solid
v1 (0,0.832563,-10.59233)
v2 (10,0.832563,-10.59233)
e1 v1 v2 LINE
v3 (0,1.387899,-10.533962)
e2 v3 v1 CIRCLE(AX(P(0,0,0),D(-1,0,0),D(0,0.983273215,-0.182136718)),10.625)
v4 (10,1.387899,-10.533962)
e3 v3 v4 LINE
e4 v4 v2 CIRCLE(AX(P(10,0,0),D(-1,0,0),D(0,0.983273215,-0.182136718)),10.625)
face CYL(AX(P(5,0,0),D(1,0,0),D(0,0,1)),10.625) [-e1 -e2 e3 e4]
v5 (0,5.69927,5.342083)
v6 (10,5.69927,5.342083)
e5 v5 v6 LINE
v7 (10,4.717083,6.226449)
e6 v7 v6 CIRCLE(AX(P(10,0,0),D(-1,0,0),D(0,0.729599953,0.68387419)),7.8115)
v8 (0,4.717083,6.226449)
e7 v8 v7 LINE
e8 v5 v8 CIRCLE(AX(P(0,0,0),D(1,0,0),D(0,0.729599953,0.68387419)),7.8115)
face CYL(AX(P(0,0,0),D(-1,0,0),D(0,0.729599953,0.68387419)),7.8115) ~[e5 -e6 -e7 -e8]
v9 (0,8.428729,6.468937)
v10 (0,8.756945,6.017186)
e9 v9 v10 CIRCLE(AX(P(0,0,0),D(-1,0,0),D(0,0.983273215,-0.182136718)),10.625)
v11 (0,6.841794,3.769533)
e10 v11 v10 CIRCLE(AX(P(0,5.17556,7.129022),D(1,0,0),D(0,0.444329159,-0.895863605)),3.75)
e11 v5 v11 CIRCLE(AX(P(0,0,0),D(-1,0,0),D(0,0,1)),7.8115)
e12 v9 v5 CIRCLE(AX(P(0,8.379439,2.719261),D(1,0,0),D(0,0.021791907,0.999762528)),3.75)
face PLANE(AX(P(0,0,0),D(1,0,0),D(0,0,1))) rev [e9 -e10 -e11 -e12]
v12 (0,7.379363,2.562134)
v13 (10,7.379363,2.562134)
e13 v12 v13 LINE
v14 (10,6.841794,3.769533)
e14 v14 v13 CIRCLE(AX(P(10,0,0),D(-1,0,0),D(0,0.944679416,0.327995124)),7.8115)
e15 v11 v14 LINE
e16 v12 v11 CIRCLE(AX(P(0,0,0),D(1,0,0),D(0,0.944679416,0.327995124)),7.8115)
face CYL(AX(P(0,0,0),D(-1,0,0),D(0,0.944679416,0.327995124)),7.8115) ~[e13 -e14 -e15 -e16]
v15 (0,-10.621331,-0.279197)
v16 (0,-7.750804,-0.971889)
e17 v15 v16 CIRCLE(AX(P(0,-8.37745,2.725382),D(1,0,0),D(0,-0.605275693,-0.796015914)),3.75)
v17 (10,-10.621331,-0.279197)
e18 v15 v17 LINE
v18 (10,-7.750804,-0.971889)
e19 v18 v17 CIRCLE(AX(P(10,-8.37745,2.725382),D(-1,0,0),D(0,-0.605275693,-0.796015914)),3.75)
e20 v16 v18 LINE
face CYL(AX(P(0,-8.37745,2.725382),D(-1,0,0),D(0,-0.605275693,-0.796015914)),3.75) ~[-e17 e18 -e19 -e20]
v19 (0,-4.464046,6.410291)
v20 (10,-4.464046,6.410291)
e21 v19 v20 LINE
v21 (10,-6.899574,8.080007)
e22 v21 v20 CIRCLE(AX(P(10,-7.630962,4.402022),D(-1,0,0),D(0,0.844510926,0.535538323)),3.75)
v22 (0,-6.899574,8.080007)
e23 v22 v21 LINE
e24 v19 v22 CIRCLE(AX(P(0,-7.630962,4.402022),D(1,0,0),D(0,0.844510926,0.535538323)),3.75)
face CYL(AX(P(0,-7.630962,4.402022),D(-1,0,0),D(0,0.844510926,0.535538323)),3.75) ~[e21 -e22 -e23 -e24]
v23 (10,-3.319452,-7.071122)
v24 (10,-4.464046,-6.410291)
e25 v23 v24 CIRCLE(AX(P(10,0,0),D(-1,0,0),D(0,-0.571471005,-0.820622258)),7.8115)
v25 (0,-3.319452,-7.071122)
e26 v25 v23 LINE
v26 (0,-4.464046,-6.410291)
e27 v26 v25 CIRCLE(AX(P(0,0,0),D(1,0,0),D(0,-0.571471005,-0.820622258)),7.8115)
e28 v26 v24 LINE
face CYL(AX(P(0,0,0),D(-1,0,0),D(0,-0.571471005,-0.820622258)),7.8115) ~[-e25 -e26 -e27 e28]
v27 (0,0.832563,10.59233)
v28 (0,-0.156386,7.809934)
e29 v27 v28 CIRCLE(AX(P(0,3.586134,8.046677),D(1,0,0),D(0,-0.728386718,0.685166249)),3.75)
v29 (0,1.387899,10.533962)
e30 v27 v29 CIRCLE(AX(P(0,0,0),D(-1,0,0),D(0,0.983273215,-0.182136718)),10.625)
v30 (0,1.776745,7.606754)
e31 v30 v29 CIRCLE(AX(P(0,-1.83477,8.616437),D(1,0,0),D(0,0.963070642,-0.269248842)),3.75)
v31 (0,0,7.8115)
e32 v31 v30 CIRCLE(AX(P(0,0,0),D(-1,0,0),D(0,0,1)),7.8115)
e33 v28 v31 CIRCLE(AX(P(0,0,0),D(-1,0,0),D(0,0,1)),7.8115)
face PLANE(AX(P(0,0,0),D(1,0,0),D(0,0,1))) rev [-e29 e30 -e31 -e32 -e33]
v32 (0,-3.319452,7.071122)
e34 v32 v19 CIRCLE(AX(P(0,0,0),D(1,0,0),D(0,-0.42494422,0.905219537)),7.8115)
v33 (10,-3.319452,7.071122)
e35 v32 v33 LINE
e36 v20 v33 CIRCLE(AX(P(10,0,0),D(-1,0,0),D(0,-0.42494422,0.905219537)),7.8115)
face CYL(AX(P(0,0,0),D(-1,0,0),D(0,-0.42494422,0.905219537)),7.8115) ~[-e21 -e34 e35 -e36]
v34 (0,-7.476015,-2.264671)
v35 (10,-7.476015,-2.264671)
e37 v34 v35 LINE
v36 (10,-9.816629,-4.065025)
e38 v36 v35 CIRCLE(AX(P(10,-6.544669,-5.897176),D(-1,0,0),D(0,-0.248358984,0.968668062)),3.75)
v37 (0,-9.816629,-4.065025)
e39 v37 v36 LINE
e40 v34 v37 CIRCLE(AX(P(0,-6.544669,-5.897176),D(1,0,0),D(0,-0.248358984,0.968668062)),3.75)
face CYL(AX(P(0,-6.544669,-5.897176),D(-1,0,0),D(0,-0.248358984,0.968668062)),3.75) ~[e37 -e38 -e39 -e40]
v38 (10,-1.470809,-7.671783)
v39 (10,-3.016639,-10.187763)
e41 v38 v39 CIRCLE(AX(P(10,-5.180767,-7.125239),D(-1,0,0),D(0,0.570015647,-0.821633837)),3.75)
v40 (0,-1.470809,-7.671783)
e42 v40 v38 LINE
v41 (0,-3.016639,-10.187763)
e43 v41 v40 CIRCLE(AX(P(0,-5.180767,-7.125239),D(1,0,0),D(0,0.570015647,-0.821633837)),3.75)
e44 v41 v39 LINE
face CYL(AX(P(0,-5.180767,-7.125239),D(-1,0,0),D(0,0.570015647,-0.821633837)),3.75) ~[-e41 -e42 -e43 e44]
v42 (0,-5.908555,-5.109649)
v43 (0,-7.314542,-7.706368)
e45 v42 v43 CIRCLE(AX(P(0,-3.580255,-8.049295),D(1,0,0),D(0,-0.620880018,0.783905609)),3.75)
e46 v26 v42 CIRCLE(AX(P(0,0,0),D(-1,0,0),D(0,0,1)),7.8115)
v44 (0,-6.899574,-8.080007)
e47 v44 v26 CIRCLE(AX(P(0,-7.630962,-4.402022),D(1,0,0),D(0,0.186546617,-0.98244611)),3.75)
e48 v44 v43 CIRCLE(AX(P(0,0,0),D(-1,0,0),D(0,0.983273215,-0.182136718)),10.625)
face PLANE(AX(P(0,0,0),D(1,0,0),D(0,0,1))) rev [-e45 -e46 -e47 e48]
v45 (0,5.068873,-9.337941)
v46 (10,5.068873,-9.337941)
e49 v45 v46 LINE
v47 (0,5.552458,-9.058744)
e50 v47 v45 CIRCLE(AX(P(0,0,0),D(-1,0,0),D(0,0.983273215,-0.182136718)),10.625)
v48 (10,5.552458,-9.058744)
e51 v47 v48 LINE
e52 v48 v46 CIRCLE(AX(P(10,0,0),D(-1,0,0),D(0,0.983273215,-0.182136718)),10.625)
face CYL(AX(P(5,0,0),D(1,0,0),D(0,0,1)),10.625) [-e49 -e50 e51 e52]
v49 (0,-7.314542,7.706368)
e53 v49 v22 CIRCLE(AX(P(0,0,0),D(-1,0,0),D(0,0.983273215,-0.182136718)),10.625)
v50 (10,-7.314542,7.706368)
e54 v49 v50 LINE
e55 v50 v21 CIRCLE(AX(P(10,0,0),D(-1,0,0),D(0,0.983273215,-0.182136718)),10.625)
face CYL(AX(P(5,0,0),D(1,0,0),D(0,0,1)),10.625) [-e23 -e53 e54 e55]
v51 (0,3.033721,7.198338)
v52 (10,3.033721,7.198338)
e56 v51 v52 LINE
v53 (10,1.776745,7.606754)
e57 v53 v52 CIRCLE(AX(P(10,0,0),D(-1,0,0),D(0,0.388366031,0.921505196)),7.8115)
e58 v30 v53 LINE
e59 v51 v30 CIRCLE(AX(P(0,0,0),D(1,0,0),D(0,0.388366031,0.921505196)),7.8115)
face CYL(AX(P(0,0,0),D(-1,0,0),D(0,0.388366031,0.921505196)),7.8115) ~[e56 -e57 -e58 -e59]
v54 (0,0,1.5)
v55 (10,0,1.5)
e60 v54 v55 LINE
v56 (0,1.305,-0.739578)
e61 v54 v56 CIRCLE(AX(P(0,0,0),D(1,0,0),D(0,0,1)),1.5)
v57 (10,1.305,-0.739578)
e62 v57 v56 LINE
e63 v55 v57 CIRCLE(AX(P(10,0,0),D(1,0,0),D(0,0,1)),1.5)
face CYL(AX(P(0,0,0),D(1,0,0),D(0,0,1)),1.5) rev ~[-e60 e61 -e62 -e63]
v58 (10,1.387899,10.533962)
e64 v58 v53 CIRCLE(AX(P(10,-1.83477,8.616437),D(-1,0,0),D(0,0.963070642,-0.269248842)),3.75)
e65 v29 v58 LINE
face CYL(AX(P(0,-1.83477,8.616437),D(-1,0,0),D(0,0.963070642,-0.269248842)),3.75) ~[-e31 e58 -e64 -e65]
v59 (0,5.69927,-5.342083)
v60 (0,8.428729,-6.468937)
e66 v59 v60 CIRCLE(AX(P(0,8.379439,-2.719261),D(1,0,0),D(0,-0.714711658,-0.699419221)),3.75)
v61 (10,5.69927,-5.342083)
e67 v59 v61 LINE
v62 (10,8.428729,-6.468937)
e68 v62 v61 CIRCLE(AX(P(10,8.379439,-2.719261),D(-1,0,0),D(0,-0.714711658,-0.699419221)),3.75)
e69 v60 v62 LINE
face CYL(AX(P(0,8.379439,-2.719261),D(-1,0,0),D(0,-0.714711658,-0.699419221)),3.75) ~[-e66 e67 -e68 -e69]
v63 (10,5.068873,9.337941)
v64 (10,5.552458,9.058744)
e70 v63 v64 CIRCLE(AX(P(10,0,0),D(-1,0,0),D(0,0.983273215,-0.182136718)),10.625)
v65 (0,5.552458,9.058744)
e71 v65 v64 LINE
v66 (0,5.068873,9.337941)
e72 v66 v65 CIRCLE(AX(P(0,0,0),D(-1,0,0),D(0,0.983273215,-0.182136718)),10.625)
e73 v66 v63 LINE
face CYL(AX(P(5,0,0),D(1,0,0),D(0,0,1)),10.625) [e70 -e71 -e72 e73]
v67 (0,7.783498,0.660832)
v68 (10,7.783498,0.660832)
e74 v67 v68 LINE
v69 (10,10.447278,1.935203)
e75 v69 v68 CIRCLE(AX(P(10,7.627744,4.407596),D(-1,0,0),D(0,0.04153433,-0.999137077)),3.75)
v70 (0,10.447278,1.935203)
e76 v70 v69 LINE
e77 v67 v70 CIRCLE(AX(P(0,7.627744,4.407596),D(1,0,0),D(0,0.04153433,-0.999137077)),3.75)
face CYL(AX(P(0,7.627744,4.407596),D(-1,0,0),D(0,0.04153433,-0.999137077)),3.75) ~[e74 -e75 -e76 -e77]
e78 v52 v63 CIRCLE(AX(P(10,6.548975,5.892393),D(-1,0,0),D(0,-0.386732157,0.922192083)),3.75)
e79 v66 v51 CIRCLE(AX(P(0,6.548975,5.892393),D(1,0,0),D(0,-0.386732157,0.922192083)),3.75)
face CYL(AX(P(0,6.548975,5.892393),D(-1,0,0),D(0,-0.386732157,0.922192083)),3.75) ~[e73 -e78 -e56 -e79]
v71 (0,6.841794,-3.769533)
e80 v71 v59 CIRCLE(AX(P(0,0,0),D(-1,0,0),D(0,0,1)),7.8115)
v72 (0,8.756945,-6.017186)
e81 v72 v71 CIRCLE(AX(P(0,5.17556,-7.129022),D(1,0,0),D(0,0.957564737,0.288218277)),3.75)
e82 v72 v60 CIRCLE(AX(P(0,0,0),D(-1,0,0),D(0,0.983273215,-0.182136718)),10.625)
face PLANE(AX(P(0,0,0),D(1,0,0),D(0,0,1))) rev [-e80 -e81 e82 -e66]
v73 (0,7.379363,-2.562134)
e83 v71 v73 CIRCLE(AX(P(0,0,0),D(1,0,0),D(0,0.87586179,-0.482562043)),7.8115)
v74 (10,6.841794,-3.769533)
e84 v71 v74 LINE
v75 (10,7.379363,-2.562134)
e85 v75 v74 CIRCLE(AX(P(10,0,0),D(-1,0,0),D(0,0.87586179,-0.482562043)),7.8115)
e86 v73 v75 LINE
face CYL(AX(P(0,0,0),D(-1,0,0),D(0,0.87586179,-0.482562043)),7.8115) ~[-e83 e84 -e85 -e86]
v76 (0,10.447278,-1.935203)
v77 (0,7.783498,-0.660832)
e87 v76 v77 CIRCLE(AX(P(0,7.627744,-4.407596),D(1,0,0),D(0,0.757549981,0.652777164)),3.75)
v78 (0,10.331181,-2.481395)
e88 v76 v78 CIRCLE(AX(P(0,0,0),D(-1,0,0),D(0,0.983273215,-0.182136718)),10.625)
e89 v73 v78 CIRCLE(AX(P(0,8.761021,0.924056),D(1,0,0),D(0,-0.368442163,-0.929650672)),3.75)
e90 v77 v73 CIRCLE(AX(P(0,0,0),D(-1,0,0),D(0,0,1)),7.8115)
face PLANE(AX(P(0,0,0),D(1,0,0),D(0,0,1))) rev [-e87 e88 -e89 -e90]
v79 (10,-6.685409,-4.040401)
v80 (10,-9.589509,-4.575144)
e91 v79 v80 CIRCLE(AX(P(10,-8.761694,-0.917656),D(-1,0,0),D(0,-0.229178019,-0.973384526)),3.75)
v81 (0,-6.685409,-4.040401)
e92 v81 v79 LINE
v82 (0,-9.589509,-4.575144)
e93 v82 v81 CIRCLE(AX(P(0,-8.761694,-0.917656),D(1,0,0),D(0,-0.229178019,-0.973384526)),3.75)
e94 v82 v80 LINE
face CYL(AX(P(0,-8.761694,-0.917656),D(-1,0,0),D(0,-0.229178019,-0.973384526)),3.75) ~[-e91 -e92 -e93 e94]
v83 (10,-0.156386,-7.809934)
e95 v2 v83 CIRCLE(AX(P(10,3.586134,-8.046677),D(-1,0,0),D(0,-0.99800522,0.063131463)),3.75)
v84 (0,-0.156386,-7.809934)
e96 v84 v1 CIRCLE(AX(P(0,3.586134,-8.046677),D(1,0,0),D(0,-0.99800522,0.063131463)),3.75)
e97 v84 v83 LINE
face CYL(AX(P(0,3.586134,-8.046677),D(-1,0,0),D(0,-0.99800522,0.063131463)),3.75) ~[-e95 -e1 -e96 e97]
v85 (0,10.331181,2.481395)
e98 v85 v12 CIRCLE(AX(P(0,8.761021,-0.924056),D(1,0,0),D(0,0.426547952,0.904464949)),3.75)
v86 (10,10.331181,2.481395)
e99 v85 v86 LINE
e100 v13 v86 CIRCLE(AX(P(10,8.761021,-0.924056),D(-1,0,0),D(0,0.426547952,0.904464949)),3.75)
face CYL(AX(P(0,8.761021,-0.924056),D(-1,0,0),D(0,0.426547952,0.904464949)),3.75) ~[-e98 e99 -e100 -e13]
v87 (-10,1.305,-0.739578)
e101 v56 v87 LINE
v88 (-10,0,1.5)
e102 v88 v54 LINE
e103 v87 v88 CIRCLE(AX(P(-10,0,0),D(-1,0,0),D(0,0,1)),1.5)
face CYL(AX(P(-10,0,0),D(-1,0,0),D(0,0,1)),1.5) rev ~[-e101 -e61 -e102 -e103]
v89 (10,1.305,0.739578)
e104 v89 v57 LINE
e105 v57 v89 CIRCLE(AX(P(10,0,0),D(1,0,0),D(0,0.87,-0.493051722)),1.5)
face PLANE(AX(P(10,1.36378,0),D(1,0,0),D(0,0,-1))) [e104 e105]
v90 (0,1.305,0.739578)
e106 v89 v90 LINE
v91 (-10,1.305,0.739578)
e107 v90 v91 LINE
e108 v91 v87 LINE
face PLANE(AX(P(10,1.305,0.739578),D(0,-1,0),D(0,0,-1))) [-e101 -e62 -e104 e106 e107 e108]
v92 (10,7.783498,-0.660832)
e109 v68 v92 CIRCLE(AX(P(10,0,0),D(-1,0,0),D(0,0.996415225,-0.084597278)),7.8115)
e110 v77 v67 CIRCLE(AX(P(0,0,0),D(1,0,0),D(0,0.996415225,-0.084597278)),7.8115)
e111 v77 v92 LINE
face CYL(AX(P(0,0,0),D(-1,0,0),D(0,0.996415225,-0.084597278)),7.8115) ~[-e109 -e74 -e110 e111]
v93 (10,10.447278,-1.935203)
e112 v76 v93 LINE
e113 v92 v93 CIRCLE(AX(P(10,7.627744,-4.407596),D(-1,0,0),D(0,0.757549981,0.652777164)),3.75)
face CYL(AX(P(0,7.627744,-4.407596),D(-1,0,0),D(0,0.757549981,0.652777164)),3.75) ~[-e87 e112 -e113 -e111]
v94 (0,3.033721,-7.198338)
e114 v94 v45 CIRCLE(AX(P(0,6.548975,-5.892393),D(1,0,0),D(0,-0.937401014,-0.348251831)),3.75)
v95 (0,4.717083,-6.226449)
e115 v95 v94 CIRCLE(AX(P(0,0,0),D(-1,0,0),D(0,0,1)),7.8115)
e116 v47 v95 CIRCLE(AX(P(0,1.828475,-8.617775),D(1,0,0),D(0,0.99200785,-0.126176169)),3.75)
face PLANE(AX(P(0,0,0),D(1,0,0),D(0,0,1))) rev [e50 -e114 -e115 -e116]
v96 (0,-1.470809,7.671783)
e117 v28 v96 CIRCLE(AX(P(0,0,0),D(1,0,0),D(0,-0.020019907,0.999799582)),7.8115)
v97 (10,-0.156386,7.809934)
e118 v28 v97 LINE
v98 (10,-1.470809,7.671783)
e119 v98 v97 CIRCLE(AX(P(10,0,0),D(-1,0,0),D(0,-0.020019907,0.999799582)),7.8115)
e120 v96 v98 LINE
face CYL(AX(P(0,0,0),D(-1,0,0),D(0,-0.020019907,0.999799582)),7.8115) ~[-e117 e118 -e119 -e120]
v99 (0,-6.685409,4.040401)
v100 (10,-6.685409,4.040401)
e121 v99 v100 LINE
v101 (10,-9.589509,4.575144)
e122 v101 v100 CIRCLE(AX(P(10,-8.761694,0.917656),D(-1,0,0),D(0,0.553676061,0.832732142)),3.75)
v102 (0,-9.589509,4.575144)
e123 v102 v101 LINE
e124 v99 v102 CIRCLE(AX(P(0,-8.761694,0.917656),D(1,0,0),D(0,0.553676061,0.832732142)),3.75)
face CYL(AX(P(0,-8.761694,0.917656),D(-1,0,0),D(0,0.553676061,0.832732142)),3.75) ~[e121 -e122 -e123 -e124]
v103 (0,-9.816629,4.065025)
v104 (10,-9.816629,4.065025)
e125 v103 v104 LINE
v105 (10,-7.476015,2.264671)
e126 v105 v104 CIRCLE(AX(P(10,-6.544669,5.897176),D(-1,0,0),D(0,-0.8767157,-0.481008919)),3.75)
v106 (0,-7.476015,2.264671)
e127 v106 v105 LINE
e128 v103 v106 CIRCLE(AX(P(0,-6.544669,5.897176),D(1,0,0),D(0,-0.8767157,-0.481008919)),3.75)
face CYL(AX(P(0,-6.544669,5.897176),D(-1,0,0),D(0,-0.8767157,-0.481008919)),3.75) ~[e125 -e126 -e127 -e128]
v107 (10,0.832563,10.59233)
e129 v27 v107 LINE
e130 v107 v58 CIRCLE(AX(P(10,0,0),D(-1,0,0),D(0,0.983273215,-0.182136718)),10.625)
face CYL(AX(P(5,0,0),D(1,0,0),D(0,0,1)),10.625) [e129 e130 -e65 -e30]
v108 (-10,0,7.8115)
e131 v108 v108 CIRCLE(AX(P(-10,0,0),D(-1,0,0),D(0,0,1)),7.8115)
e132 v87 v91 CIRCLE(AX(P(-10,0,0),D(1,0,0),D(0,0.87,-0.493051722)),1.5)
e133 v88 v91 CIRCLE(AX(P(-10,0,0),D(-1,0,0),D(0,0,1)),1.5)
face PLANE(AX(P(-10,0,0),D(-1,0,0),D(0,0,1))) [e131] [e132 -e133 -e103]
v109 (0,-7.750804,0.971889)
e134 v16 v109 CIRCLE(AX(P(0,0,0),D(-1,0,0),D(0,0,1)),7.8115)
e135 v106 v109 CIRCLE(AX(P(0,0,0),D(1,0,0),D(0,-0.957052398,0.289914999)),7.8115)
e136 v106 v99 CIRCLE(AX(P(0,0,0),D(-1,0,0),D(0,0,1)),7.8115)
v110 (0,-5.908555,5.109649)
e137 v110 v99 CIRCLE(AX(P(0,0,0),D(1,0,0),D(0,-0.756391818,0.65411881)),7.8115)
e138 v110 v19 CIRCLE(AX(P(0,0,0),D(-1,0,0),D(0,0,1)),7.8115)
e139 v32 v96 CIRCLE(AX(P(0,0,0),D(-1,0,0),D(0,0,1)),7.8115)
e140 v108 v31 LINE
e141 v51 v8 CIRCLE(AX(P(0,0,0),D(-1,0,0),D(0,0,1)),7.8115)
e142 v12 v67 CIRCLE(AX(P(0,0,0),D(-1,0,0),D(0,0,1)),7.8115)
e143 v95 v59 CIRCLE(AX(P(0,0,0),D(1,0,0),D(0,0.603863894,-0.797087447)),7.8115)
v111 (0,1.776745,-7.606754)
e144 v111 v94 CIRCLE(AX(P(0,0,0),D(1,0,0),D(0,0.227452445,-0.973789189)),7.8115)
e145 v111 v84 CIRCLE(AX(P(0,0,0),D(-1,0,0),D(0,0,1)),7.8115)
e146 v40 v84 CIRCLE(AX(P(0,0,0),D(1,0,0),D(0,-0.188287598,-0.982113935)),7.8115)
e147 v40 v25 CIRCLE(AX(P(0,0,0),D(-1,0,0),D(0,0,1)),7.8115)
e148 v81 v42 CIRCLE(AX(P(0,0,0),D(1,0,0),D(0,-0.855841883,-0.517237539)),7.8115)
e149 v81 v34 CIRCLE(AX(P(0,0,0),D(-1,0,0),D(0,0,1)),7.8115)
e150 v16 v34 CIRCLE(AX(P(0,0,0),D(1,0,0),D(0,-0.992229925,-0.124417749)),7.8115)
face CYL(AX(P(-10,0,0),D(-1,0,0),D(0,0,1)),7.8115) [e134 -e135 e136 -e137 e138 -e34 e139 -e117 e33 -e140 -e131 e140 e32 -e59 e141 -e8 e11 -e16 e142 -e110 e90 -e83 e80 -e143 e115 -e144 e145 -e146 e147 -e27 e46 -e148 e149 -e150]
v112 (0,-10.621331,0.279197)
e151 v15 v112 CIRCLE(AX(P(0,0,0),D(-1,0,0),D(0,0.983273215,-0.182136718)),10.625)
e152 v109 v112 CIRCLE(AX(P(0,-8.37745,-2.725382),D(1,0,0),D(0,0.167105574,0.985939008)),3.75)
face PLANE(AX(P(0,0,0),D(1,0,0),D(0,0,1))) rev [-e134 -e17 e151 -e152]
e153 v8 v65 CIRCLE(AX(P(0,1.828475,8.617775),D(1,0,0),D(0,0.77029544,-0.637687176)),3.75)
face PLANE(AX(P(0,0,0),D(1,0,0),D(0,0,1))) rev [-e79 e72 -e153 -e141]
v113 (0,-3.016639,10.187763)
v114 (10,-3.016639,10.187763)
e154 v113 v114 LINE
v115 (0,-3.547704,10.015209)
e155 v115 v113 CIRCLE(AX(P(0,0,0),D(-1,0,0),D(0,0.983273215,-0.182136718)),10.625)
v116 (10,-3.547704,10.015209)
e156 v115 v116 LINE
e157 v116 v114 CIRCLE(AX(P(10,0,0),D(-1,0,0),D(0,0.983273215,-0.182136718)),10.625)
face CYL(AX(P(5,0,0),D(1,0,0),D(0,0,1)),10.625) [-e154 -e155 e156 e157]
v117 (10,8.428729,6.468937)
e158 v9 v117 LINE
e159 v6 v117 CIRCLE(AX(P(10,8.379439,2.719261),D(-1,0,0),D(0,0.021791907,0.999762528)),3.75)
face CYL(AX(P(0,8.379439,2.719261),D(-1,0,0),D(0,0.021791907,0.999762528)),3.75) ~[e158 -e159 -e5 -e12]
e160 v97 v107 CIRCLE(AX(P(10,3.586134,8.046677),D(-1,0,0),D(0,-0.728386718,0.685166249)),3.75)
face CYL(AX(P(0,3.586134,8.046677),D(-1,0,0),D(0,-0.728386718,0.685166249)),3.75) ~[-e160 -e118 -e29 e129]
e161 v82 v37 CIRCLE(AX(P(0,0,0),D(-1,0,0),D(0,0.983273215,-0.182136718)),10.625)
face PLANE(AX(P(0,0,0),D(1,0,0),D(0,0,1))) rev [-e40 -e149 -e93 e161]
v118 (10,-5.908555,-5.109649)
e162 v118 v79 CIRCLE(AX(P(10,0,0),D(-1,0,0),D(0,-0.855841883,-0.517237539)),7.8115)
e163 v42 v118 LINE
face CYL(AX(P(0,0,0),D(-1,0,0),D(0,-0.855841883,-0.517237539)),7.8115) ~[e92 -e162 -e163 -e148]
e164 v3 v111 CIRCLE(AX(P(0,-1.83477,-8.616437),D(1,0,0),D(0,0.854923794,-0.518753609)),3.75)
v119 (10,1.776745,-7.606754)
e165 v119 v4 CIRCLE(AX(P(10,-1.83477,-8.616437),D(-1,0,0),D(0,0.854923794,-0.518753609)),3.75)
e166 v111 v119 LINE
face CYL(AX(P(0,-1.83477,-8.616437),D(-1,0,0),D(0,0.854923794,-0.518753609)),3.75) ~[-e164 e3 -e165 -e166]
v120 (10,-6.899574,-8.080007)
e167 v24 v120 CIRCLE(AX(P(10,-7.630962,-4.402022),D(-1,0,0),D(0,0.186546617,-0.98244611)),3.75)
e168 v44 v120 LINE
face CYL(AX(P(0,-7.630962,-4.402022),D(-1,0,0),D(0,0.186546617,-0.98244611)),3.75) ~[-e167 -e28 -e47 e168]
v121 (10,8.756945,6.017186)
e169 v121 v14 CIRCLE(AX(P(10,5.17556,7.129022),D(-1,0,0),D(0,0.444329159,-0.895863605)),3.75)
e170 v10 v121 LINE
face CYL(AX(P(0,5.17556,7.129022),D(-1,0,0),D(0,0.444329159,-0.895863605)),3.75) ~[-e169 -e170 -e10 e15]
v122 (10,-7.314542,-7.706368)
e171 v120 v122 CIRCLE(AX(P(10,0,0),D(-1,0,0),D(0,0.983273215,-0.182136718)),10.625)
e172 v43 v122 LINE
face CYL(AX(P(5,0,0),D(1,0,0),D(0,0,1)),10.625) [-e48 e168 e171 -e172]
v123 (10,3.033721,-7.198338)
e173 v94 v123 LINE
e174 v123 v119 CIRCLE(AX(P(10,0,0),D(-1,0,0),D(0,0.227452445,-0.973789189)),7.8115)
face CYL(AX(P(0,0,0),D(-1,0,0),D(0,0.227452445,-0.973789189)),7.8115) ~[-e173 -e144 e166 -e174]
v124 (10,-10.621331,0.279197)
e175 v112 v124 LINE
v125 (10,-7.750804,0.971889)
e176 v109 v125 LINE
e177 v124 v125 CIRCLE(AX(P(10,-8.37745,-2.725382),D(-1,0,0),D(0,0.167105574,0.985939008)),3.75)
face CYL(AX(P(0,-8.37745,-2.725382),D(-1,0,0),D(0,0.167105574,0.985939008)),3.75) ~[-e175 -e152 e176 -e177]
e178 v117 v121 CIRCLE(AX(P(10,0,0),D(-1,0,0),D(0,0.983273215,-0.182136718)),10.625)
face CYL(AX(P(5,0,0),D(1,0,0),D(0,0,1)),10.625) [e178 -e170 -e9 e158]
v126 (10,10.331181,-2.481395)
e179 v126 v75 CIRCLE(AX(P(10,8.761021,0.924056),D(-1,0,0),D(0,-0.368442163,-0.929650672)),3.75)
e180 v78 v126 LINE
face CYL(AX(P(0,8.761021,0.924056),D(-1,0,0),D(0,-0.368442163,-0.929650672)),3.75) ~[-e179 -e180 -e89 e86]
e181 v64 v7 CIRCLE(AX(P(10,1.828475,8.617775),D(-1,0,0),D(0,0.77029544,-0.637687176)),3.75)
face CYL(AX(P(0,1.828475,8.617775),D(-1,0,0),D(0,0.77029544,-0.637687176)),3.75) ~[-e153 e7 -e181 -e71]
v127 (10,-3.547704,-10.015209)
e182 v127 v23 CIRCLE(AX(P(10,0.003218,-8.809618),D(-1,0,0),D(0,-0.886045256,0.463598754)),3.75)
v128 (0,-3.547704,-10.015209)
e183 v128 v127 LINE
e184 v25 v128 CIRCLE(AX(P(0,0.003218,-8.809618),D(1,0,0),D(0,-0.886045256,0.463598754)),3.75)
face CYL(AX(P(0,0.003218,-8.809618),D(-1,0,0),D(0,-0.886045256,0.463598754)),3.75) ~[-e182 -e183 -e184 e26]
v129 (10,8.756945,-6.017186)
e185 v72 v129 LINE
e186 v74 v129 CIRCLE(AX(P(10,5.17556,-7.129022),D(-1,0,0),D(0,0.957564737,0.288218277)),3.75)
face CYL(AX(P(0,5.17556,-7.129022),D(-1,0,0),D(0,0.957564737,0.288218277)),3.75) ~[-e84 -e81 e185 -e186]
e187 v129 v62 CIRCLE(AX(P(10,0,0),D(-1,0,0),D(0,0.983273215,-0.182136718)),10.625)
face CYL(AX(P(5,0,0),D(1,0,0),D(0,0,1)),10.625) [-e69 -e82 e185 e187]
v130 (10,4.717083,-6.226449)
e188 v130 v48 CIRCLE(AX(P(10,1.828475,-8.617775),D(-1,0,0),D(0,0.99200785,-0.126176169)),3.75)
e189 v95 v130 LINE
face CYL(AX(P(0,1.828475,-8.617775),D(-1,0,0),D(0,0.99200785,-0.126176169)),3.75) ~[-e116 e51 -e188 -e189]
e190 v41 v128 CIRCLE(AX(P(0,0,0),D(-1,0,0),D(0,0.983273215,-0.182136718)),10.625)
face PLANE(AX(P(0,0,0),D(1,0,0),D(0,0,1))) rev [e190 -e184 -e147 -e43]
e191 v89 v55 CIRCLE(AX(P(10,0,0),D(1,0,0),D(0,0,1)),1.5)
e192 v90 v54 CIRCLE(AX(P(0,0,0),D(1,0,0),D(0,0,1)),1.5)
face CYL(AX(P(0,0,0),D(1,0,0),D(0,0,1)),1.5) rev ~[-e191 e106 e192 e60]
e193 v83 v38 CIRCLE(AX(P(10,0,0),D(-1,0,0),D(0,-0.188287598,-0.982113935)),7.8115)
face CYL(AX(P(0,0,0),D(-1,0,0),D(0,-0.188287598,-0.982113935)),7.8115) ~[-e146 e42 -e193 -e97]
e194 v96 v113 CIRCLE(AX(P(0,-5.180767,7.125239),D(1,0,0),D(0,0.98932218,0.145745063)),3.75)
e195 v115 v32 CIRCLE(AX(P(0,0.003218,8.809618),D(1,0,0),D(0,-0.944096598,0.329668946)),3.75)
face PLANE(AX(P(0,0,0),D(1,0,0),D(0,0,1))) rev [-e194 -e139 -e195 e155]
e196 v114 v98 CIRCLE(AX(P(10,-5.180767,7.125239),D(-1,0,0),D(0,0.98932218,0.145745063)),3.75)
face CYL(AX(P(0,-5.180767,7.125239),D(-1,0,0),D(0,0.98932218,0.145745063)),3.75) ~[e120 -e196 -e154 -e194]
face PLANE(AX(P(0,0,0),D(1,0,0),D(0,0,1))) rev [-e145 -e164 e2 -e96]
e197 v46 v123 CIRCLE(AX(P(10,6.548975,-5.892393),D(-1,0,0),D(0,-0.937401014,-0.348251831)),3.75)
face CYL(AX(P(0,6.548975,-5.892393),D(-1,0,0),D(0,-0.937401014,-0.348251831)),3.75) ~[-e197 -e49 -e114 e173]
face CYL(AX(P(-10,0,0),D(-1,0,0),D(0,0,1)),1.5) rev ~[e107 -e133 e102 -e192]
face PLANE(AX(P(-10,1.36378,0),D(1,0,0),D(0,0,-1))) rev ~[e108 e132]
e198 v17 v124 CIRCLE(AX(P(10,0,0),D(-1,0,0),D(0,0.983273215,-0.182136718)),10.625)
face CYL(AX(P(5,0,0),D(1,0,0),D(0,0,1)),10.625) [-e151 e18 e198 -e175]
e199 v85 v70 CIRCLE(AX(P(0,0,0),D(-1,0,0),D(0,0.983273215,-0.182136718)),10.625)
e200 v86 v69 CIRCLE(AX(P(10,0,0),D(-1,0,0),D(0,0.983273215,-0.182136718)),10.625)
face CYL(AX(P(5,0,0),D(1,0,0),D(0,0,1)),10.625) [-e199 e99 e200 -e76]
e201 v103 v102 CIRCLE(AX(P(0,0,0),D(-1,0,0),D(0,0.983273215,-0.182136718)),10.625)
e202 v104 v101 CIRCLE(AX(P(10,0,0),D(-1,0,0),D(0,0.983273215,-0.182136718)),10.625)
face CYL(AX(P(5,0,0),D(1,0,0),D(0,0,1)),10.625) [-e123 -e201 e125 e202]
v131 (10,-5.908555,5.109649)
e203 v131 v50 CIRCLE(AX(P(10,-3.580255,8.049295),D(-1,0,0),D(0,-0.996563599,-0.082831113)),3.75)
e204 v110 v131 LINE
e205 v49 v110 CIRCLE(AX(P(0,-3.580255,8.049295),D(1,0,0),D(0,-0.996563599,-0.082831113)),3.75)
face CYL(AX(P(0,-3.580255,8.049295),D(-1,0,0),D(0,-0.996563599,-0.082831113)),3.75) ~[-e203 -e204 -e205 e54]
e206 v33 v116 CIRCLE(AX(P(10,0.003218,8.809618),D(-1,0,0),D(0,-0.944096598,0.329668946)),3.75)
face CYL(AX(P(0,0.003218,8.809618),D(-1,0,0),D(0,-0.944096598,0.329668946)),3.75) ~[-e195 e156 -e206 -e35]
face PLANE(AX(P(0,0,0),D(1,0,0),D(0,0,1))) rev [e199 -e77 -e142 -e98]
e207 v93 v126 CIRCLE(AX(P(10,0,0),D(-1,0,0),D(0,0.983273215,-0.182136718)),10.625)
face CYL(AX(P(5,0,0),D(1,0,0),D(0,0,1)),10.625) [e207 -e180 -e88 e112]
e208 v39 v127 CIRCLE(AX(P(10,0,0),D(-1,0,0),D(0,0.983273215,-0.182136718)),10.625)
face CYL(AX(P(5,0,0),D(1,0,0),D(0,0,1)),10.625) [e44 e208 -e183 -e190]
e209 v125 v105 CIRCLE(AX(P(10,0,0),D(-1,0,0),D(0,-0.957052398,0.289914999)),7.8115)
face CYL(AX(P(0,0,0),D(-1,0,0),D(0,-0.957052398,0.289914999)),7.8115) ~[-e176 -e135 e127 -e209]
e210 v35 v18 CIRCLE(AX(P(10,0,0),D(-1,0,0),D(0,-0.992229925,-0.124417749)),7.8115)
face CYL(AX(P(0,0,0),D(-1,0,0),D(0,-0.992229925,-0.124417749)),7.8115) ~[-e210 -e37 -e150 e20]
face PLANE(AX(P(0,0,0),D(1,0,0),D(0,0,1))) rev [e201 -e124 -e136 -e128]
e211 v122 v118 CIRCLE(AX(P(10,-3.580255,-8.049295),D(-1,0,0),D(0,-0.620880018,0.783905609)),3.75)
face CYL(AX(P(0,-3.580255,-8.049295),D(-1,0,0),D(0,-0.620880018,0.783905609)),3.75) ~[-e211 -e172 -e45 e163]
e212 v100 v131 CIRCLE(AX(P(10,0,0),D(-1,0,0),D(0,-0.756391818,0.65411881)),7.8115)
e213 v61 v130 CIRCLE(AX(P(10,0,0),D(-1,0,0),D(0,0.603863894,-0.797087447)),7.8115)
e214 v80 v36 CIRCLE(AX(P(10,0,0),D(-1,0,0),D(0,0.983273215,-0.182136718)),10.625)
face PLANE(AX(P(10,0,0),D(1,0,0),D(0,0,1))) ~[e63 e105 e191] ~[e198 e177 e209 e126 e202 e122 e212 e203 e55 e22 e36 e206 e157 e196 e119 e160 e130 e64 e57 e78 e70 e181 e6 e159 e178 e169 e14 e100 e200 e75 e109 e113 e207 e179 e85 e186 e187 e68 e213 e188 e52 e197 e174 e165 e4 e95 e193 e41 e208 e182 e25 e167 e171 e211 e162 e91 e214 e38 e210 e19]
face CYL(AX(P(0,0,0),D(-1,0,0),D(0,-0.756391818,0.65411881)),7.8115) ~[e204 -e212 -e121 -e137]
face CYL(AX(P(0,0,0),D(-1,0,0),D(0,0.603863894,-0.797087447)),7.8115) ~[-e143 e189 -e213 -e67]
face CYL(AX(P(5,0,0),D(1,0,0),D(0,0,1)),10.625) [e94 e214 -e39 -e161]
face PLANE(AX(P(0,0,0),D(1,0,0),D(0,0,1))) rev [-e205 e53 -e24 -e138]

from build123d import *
from build123d.topology import SkipClean

# Parameters (mm, degrees)
BASPROSKE_W         = 10
BASPROSKE_H         = 10.625
TOOTHCUT_DEPTH      = 19.049411348
TEETHCUTS_COUNT     = 15
TEETHCUTS_ANGLE     = 336
BORSKE_R            = 1.5
BORE_DEPTH          = 50.0000508
BOSS_EXTRUDE1_START = 10
SKETCH1_R           = 7.8115
SKETCH1_R_2         = 1.5
BOSS_EXTRUDE1_DEPTH = 10
BOSS_EXTRUDE2_DEPTH = 20


with BuildPart() as part:
    # BasProSke → Base-Revolve (revolve)
    with BuildSketch(Plane(origin=(0, 0, 0), x_dir=(1, 0, 0), z_dir=(0, 1, 0)), mode=Mode.PRIVATE) as base_revolve_sk:
        with Locations((5, 5.3125)):
            Rectangle(BASPROSKE_W, BASPROSKE_H)
    revolve(base_revolve_sk.sketch.rotate(Axis((-10, 0, 0), (1, 0, 0)), 180), axis=Axis((-10, 0, 0), (1, 0, 0)))

    # TooCutSke → ToothCut (cut, through all)
    with BuildSketch(Plane(origin=(0, 0, 0), x_dir=(0, 0, -1), z_dir=(1, 0, 0))):
        with BuildLine():
            ThreePointArc((0.660831632, 7.78349753), (0, 7.8115), (-0.660831632, 7.78349753))
            ThreePointArc((-0.660831632, 7.78349753), (-1.031814994, 9.260718016), (-1.959681305, 10.46855622))
            ThreePointArc((-1.959681305, 10.46855622), (0, 10.6504), (1.959681305, 10.46855622))
            ThreePointArc((1.959681305, 10.46855622), (1.031814994, 9.260718016), (0.660831632, 7.78349753))
        make_face()
    toothcut = extrude(amount=TOOTHCUT_DEPTH, mode=Mode.SUBTRACT)

    # TeethCuts: ToothCut ×15 about axis
    teethcuts_axis = Axis((-10, 0, 0), (1, 0, 0))
    for i in range(1, TEETHCUTS_COUNT):
        add(toothcut.rotate(teethcuts_axis, i * TEETHCUTS_ANGLE / (TEETHCUTS_COUNT - 1)), mode=Mode.SUBTRACT)

    # BorSke → Bore (cut, symmetric)
    with BuildSketch(Plane(origin=(0, 0, 0), x_dir=(0, 0, -1), z_dir=(1, 0, 0))):
        with Locations(Location((0, 0, 0), (0, 0, 180))):
            Circle(BORSKE_R)
    extrude(amount=BORE_DEPTH, both=True, mode=Mode.SUBTRACT)

    # Sketch1 → Boss-Extrude1 (add)
    with SkipClean():  # the faces are left unmerged after this step: merging them gives an invalid solid
        with BuildSketch(Plane.ZY.offset(BOSS_EXTRUDE1_START)):
            Circle(SKETCH1_R)
            Circle(SKETCH1_R_2, mode=Mode.SUBTRACT)
        extrude(amount=-BOSS_EXTRUDE1_DEPTH)

    # Sketch2 → Boss-Extrude2 (add)
    with SkipClean():  # the faces are left unmerged after this step: merging them gives an invalid solid
        with BuildSketch(Plane(origin=(10, 0, 0), x_dir=(0, 0, -1), z_dir=(1, 0, 0))):
            with BuildLine():
                ThreePointArc((0.739577582, 1.305), (0, 1.5), (-0.739577582, 1.305))
                Line((-0.739577582, 1.305), (0.739577582, 1.305))
            make_face()
        extrude(amount=-BOSS_EXTRUDE2_DEPTH)


solid = part.part
